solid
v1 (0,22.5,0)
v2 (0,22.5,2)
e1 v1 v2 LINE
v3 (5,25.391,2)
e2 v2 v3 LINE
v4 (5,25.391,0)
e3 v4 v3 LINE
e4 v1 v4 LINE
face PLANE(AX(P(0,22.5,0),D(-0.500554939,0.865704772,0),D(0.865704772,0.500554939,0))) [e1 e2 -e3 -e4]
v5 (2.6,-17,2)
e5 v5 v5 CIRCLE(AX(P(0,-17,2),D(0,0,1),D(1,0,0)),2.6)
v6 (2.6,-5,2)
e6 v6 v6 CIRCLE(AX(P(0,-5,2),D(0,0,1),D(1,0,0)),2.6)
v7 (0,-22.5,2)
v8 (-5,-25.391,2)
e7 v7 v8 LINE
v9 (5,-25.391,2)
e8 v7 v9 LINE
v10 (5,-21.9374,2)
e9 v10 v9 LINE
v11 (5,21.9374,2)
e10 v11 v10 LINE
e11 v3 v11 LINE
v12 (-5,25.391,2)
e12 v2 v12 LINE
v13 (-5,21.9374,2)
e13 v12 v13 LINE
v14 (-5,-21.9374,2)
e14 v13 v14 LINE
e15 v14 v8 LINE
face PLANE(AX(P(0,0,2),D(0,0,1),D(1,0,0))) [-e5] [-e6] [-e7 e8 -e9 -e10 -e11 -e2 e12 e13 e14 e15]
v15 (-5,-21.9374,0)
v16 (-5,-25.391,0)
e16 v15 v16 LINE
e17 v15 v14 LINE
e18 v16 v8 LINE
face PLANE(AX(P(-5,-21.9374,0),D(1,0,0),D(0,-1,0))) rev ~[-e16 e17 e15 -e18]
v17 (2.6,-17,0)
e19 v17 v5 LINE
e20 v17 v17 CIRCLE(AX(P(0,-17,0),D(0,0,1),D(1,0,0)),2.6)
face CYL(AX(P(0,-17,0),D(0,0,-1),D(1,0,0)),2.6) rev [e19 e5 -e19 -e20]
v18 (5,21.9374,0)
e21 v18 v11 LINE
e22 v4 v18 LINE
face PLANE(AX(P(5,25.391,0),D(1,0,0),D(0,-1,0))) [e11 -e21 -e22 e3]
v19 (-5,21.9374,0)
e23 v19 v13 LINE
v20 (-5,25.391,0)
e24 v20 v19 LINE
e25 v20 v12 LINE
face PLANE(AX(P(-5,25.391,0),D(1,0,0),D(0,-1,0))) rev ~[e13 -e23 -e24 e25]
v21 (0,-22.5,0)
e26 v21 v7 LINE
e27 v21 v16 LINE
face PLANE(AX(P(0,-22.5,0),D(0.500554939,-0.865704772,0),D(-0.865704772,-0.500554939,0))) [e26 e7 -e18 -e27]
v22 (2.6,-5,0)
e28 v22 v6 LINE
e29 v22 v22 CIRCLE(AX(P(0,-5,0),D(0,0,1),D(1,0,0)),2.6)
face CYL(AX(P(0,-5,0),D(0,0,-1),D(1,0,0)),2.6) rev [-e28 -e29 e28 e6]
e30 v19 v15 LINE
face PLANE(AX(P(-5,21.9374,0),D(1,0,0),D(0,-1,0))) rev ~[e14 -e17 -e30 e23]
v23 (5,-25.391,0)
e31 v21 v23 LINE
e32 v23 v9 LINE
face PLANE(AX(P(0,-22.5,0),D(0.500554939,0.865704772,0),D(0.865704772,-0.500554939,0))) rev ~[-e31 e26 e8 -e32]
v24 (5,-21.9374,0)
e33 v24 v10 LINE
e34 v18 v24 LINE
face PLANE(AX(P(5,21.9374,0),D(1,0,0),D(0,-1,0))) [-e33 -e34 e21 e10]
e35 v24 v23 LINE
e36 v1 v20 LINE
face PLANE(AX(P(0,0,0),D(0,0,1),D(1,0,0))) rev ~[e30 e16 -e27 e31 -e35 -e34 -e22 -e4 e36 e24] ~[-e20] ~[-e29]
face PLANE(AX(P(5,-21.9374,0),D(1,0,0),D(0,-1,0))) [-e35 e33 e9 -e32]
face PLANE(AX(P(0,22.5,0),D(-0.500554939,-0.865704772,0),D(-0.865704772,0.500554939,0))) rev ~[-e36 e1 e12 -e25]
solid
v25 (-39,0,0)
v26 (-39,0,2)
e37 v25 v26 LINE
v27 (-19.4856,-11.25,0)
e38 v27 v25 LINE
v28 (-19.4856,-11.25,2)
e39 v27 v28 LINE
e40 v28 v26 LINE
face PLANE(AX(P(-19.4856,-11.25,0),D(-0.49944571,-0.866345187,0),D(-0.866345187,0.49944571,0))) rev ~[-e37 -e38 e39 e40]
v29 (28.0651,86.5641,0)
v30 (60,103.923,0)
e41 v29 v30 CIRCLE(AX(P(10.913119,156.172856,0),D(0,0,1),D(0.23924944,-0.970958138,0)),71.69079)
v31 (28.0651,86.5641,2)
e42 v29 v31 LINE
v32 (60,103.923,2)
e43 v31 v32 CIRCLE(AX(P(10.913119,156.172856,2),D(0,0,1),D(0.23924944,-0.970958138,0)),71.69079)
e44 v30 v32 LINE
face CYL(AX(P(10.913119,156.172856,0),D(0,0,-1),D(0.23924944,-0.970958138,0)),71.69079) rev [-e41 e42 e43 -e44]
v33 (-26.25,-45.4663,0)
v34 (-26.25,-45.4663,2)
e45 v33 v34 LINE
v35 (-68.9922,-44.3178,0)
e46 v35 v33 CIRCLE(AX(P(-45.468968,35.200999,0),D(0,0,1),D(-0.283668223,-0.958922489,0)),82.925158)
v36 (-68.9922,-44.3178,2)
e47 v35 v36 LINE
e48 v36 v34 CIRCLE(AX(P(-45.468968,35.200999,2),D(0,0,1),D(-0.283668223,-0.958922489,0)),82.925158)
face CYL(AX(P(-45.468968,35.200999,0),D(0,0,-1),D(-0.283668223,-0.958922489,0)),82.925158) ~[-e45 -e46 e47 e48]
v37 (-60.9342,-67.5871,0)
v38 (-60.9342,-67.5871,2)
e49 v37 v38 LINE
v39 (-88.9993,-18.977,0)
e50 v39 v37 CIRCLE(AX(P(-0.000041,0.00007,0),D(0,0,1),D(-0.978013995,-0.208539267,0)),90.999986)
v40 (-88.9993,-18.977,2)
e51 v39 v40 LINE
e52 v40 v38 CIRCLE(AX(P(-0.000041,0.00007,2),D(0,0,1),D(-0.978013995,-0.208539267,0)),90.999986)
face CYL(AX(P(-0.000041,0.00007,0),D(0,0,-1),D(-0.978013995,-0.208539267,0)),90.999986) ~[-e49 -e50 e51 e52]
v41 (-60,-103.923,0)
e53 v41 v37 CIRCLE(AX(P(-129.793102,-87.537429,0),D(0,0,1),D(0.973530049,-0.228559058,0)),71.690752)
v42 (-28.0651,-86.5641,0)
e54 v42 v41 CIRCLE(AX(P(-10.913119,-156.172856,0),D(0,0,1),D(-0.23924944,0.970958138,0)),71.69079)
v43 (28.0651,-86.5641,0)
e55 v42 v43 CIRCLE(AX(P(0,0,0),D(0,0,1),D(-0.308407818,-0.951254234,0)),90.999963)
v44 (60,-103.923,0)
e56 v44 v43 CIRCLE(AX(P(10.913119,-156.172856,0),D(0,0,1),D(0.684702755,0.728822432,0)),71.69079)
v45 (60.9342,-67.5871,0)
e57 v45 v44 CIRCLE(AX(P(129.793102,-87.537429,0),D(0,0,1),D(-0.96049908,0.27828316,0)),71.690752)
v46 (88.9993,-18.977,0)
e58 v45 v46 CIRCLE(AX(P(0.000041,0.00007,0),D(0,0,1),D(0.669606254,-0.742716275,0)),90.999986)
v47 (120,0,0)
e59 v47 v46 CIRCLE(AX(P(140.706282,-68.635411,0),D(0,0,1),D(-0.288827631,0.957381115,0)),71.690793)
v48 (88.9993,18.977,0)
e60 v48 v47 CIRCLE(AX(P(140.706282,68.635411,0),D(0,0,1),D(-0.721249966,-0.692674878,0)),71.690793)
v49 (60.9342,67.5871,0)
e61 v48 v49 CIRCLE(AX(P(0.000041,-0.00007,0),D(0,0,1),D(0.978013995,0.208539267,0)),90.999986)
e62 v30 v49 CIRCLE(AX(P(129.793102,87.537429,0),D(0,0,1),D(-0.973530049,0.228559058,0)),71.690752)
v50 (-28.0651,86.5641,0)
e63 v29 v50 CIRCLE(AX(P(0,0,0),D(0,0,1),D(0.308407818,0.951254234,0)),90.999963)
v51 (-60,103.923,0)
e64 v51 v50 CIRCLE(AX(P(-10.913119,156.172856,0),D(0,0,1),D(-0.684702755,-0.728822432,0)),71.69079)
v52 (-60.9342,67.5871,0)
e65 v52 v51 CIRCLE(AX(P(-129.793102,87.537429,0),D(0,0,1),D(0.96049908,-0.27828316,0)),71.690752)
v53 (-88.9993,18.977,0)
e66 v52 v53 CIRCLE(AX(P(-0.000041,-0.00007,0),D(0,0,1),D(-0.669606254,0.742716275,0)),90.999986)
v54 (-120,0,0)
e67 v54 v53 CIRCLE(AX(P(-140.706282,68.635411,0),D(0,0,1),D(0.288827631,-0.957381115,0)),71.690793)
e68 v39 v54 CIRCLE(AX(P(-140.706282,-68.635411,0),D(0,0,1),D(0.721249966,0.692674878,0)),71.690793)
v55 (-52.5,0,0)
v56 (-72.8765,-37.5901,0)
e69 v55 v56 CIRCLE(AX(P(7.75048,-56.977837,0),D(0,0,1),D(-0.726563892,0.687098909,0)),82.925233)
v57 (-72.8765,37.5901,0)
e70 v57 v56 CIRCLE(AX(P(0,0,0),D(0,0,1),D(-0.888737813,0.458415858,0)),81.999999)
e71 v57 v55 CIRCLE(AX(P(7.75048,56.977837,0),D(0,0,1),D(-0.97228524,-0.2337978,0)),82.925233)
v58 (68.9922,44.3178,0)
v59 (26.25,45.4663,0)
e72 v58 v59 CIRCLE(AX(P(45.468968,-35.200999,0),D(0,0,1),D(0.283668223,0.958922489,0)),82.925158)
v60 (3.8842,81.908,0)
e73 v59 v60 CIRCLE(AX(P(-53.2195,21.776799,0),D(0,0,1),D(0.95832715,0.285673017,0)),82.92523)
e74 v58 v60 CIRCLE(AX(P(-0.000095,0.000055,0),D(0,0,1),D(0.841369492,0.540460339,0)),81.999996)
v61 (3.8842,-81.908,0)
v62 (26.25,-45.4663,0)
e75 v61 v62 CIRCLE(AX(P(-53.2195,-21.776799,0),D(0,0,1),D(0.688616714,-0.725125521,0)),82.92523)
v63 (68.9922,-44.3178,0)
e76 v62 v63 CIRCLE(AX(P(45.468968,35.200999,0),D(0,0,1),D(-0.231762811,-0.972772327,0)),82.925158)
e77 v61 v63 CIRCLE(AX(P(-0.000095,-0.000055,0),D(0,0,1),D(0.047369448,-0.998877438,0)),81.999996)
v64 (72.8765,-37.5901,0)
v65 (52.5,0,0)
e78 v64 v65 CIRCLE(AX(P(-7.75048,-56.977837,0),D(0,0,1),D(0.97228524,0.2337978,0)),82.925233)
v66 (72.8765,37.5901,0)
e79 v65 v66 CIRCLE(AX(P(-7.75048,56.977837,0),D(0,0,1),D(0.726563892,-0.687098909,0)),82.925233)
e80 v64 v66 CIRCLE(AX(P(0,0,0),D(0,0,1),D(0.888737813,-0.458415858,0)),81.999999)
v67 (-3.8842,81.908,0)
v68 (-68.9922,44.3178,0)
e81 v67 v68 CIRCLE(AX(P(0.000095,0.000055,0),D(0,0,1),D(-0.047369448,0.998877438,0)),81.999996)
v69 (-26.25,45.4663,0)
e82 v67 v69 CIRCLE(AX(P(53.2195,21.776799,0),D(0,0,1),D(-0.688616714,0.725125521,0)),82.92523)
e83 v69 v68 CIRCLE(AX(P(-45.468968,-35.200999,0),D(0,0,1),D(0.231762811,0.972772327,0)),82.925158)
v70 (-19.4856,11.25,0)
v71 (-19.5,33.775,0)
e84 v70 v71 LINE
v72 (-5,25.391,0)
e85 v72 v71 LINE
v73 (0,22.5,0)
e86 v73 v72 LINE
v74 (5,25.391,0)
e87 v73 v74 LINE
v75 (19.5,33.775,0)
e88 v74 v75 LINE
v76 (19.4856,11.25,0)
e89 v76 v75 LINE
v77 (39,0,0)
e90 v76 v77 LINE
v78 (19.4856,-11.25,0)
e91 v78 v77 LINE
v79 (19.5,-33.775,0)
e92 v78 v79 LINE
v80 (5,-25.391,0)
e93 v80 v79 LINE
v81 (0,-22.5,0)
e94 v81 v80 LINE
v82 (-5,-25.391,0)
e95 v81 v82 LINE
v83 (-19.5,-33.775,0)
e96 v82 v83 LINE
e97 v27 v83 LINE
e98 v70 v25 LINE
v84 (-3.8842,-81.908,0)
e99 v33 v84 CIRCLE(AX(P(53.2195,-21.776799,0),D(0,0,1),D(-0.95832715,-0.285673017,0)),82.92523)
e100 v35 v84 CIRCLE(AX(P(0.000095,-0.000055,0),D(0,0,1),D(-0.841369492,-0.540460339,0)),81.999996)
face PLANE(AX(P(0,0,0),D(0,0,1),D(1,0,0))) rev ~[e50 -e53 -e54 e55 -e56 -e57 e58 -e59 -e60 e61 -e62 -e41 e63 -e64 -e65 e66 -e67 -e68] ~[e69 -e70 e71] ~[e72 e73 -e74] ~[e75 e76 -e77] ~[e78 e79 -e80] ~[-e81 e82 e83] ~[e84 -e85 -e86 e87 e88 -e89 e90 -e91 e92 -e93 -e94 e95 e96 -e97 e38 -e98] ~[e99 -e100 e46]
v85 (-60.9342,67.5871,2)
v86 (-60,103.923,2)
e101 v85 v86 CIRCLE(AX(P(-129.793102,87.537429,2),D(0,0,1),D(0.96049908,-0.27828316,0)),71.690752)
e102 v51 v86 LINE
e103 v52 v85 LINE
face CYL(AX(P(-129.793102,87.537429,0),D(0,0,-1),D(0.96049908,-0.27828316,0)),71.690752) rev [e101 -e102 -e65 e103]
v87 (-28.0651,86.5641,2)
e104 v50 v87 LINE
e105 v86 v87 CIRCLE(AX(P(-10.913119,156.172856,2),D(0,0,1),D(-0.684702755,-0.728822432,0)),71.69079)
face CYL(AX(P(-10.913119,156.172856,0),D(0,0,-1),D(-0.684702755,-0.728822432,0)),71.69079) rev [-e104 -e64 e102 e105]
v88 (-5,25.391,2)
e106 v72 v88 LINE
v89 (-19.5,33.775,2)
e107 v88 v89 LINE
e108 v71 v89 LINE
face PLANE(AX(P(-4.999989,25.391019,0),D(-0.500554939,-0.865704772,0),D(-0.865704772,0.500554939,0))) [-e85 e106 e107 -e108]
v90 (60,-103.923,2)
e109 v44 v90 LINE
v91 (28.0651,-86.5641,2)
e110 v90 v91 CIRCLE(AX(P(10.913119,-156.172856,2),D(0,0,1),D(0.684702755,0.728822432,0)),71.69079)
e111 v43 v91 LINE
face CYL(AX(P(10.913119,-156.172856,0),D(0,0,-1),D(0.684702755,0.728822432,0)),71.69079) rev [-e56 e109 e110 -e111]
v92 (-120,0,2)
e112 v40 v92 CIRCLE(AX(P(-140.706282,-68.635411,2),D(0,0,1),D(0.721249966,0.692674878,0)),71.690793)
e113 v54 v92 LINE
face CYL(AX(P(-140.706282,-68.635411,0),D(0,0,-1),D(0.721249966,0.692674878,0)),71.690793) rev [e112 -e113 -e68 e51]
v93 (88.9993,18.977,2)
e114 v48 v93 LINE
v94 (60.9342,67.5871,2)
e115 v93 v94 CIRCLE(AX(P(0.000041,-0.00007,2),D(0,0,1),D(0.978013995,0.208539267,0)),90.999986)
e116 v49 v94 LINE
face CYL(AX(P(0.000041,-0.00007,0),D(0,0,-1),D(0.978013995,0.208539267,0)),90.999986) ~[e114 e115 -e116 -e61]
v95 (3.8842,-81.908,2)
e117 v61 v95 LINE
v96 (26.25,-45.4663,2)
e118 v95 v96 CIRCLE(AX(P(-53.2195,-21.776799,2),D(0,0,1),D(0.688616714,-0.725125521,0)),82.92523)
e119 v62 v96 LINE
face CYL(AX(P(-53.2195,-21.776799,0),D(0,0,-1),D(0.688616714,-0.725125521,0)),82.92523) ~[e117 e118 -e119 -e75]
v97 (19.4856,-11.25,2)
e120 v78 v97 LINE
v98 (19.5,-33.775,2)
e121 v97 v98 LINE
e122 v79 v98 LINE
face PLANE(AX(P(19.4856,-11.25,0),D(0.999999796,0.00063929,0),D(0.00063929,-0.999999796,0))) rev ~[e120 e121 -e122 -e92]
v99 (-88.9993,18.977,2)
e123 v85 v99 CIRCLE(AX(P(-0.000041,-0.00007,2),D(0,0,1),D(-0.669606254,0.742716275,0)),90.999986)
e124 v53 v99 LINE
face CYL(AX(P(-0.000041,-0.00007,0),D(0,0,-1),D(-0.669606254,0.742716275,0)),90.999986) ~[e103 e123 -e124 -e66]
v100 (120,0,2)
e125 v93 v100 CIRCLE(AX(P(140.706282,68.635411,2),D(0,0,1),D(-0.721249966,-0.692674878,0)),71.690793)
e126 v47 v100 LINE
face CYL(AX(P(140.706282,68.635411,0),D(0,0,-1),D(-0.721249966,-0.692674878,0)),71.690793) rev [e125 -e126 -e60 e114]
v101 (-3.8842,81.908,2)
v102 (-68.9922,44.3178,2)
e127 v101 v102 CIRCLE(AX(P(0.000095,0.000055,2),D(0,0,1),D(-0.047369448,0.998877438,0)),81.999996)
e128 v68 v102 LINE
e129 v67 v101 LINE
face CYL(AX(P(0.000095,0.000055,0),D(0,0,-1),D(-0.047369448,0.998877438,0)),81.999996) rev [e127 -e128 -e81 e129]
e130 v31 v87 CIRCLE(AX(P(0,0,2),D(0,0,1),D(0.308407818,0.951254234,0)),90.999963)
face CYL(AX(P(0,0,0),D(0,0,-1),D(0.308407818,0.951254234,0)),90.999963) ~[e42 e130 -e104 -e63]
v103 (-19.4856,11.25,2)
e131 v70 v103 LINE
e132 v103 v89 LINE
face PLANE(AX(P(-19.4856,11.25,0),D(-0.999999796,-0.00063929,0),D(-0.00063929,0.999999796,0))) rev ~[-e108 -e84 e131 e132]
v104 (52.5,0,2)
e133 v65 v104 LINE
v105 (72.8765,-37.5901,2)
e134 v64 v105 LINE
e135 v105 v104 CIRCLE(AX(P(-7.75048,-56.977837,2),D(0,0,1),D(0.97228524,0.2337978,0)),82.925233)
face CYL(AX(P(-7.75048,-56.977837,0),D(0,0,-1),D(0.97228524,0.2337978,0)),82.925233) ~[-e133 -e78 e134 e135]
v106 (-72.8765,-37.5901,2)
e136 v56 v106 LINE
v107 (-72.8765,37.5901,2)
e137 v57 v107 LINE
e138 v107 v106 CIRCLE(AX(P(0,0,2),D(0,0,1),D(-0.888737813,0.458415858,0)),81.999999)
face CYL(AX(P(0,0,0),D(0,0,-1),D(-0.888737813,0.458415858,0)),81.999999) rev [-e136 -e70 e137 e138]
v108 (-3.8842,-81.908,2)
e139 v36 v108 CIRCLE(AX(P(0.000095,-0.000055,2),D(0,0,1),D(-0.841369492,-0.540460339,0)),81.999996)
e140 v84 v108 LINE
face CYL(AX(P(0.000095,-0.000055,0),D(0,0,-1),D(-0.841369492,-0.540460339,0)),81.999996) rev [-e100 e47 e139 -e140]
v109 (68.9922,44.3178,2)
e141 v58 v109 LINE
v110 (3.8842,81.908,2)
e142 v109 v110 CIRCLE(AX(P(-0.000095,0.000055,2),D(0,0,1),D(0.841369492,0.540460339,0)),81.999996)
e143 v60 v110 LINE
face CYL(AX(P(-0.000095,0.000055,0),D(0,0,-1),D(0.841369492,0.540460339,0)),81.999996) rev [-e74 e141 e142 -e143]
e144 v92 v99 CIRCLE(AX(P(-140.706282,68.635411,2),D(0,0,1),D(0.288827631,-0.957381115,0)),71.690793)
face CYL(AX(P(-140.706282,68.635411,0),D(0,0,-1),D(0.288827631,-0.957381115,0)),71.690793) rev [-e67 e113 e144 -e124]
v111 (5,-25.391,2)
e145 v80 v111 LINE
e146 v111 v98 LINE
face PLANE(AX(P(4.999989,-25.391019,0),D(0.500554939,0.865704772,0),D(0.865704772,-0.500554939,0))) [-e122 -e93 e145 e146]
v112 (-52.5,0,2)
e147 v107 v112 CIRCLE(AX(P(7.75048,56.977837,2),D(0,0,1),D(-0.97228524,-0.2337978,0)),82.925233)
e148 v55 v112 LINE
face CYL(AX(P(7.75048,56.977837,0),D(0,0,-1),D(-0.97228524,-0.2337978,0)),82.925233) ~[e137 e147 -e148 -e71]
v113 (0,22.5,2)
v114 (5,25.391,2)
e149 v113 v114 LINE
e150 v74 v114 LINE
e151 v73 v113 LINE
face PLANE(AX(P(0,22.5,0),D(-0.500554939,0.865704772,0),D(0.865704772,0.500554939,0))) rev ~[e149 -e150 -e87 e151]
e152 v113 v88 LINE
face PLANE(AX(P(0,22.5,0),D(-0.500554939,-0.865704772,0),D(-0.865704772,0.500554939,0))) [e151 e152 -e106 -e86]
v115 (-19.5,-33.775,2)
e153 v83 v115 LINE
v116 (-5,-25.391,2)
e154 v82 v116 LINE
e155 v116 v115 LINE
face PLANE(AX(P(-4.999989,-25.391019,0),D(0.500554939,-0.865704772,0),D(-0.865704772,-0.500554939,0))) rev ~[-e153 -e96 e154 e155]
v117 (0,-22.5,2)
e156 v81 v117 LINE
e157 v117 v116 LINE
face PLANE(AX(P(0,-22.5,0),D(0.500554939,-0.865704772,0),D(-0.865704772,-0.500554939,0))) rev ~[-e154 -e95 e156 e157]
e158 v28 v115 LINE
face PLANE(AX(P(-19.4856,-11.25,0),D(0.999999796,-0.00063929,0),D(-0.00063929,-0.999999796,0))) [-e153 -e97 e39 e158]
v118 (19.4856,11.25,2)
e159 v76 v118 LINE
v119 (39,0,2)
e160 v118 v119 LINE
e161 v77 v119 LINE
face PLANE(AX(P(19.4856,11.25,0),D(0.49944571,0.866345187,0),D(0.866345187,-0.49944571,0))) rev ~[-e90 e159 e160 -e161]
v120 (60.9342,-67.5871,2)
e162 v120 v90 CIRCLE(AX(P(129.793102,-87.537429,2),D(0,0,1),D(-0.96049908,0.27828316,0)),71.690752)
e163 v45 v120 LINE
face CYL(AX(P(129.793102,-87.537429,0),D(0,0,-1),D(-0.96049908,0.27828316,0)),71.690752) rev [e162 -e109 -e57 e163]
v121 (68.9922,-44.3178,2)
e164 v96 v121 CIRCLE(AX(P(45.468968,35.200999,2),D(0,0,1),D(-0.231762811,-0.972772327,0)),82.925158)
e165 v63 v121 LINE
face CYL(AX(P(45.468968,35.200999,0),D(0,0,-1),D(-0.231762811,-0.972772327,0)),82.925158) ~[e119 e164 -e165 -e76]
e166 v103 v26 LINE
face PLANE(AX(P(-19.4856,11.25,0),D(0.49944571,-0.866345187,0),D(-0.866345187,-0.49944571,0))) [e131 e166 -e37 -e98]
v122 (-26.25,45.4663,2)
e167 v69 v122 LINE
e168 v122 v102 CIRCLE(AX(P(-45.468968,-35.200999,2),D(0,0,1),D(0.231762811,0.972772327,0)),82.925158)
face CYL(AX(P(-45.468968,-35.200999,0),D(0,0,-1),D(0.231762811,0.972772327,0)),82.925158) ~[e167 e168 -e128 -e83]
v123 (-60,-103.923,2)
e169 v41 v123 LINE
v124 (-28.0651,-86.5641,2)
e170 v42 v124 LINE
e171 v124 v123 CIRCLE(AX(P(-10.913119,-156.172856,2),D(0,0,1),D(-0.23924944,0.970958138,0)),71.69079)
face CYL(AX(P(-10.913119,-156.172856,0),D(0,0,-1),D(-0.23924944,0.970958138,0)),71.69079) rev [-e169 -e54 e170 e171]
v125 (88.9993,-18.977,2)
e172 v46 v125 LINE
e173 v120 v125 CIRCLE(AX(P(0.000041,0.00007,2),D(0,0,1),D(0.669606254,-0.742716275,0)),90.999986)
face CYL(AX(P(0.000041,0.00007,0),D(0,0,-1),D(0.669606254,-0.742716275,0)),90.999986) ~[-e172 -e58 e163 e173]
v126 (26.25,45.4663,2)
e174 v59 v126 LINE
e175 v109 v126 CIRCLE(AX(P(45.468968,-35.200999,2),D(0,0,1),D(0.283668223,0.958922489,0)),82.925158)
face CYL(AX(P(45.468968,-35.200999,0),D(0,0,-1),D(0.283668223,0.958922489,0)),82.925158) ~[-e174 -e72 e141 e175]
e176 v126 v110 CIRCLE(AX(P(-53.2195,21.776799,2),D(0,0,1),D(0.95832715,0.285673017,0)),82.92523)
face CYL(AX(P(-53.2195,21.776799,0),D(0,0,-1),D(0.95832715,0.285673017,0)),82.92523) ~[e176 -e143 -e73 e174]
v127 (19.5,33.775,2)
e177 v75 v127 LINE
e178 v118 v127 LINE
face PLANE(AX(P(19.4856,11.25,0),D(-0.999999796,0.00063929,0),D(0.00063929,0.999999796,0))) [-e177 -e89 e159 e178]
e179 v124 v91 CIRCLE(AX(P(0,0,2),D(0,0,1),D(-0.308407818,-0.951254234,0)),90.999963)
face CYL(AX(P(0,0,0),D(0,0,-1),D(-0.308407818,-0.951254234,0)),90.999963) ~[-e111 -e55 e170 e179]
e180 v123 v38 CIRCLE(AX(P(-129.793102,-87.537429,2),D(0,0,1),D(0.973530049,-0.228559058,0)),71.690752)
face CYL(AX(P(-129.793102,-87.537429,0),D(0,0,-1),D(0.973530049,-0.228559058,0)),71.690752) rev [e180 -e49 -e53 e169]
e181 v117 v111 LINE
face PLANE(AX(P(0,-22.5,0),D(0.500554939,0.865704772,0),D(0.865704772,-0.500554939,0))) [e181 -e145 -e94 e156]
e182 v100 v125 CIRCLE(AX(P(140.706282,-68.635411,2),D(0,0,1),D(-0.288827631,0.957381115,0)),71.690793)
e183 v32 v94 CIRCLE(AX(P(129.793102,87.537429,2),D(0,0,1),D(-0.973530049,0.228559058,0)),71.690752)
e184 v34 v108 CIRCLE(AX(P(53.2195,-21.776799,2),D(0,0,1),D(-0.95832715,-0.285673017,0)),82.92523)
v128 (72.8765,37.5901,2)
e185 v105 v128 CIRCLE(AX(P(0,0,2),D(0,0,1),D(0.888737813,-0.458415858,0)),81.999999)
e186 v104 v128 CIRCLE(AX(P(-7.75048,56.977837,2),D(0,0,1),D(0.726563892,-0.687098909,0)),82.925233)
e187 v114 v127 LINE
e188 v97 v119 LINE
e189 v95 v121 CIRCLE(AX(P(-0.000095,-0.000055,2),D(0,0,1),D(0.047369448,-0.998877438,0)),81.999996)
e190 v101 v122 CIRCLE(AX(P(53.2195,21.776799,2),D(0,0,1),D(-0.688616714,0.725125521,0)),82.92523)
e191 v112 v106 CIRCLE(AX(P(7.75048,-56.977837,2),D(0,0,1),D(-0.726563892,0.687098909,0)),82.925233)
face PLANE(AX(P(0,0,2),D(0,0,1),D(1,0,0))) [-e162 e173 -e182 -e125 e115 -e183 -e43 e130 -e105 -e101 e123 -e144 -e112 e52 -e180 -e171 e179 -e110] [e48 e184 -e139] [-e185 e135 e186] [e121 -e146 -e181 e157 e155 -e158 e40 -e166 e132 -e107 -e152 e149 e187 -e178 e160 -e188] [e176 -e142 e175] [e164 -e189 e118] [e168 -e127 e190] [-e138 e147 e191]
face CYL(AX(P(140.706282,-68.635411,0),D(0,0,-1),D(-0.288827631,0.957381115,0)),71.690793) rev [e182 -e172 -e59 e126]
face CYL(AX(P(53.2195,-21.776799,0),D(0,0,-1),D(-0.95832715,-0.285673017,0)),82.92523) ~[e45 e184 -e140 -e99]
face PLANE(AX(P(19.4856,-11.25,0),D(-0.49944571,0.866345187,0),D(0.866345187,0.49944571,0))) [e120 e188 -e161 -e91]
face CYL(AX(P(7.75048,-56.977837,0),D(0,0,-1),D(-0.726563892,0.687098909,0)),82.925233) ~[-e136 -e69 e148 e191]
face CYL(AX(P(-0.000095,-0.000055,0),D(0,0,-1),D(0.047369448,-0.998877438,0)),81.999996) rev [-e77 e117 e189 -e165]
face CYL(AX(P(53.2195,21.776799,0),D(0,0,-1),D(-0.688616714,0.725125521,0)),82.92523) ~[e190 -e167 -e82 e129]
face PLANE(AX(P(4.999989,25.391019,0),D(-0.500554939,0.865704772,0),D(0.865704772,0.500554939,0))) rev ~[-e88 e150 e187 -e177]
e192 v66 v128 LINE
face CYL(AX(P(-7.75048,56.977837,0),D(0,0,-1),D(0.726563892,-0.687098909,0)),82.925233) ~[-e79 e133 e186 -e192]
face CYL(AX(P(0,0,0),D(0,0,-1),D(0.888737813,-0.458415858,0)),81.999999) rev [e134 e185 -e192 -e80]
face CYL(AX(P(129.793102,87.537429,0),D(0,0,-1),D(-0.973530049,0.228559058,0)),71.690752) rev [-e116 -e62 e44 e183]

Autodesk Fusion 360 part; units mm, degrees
sketch "スケッチ1" plane through (0, 0, 0) normal (0, 0, 1) x (1, 0, 0)
  circle A0 centre (0, 0) radius 120 construction
  circle A1 centre (0, 0) radius 39 construction
  line L0 (0, 0) -> (120, 0) construction
  line L1 (0, 0) -> (26.25, 45.4663) construction
  line L2 (0, 0) -> (0, 22.5) construction
  line L3 (0, 22.5) -> (19.5, 33.775)
  line L4 (0, 0) -> (19.4856, 11.25) construction
  line L5 (19.4856, 11.25) -> (19.5, 33.775)
  line L6 (-19.4856, 11.25) -> (-19.5, 33.775)
  line L7 (0, 22.5) -> (-19.5, 33.775)
  line L8 (-19.4856, -11.25) -> (-39, 0)
  line L9 (-19.4856, 11.25) -> (-39, 0)
  line L10 (0, -22.5) -> (-19.5, -33.775)
  line L11 (-19.4856, -11.25) -> (-19.5, -33.775)
  line L12 (19.4856, -11.25) -> (19.5, -33.775)
  line L13 (0, -22.5) -> (19.5, -33.775)
  line L14 (19.4856, 11.25) -> (39, 0)
  line L15 (19.4856, -11.25) -> (39, 0)
  circle A2 centre (0, 0) radius 52.5 construction
  arc A3 (26.25, 45.4663) -> (3.8842, 81.908) centre (-53.2195, 21.7768) ccw
  arc A4 (-3.8842, 81.908) -> (-26.25, 45.4663) centre (53.2195, 21.7768) ccw
  arc A5 (-26.25, 45.4663) -> (-68.9922, 44.3178) centre (-45.469, -35.201) ccw
  arc A6 (-72.8765, 37.5901) -> (-52.5, 0) centre (7.7505, 56.9778) ccw
  arc A7 (-52.5, 0) -> (-72.8765, -37.5901) centre (7.7505, -56.9778) ccw
  arc A8 (-68.9922, -44.3178) -> (-26.25, -45.4663) centre (-45.469, 35.201) ccw
  arc A9 (-26.25, -45.4663) -> (-3.8842, -81.908) centre (53.2195, -21.7768) ccw
  arc A10 (3.8842, -81.908) -> (26.25, -45.4663) centre (-53.2195, -21.7768) ccw
  arc A11 (26.25, -45.4663) -> (68.9922, -44.3178) centre (45.469, 35.201) ccw
  arc A12 (72.8765, -37.5901) -> (52.5, 0) centre (-7.7505, -56.9778) ccw
  arc A13 (52.5, 0) -> (72.8765, 37.5901) centre (-7.7505, 56.9778) ccw
  arc A14 (68.9922, 44.3178) -> (26.25, 45.4663) centre (45.469, -35.201) ccw
  arc A15 (-3.8842, 81.908) -> (-68.9922, 44.3178) centre (0, 0) ccw
  arc A16 (-72.8765, 37.5901) -> (-72.8765, -37.5901) centre (0, 0) ccw
  arc A17 (-68.9922, -44.3178) -> (-3.8842, -81.908) centre (0, 0) ccw
  arc A18 (3.8842, -81.908) -> (68.9922, -44.3178) centre (0, 0) ccw
  arc A19 (72.8765, -37.5901) -> (72.8765, 37.5901) centre (0, 0) ccw
  arc A20 (68.9922, 44.3178) -> (3.8842, 81.908) centre (0, 0) ccw
  arc A21 (88.9993, 18.977) -> (120, 0) centre (140.7063, 68.6354) ccw
  arc A22 (120, 0) -> (88.9993, -18.977) centre (140.7063, -68.6354) ccw
  arc A23 (28.0651, 86.5641) -> (60, 103.923) centre (10.9132, 156.1729) ccw
  arc A24 (60, 103.923) -> (60.9342, 67.5871) centre (129.7931, 87.5375) ccw
  arc A25 (-60.9342, 67.5871) -> (-60, 103.923) centre (-129.7931, 87.5375) ccw
  arc A26 (-60, 103.923) -> (-28.0651, 86.5641) centre (-10.9132, 156.1729) ccw
  arc A27 (-88.9993, -18.977) -> (-120, 0) centre (-140.7063, -68.6354) ccw
  arc A28 (-120, 0) -> (-88.9993, 18.977) centre (-140.7063, 68.6354) ccw
  arc A29 (-28.0651, -86.5641) -> (-60, -103.923) centre (-10.9132, -156.1729) ccw
  arc A30 (-60, -103.923) -> (-60.9342, -67.5871) centre (-129.7931, -87.5375) ccw
  arc A31 (60.9342, -67.5871) -> (60, -103.923) centre (129.7931, -87.5375) ccw
  arc A32 (60, -103.923) -> (28.0651, -86.5641) centre (10.9132, -156.1729) ccw
  arc A33 (28.0651, 86.5641) -> (-28.0651, 86.5641) centre (0, 0) ccw
  arc A34 (88.9993, 18.977) -> (60.9342, 67.5871) centre (0, 0) ccw
  arc A35 (60.9342, -67.5871) -> (88.9993, -18.977) centre (0, 0) ccw
  arc A36 (-28.0651, -86.5641) -> (28.0651, -86.5641) centre (0, 0) ccw
  arc A37 (-60.9342, 67.5871) -> (-88.9993, 18.977) centre (0, 0) ccw
  arc A38 (-88.9993, -18.977) -> (-60.9342, -67.5871) centre (0, 0) ccw
  line L16 (-5, 25.391) -> (-5, -25.391)
  line L17 (5, 25.391) -> (5, -25.391)
  circle A39 centre (0, -17) radius 2.6
  circle A40 centre (0, -5) radius 2.6
  arc A41 (-5, 21.9374) -> (-5, -21.9374) centre (0, 0) ccw
  arc A42 (5, -21.9374) -> (5, 21.9374) centre (0, 0) ccw
  dimension "d2" = 240
  dimension "d3" = 182
  dimension "d4" = 164
  dimension "d5" = 78
  dimension "d6" = 45
  dimension "d7" = 60
  dimension "d9" = 360
  dimension "d10" = 105
  dimension "d12" = 360
  dimension "d14" = 360
  dimension "d17" = 10
  dimension "d18" = 5.2
  dimension "d19" = 5.2
extrude "押し出し2" add sketch "スケッチ1" along normal blind 2 contours A21 A22 A23 A24 A25 A26 A27 A28 A29 A30 A31 A32 A33 A34 A35 A36 A37 A38 makes body 1
extrude "押し出し3" add sketch "スケッチ1" along normal blind 2 separate body contours L3 L7 L10 L13 L16 L17 makes body 2
extrude "押し出し1" [suppressed]
equation "d4 = d3 - 18 mm"
